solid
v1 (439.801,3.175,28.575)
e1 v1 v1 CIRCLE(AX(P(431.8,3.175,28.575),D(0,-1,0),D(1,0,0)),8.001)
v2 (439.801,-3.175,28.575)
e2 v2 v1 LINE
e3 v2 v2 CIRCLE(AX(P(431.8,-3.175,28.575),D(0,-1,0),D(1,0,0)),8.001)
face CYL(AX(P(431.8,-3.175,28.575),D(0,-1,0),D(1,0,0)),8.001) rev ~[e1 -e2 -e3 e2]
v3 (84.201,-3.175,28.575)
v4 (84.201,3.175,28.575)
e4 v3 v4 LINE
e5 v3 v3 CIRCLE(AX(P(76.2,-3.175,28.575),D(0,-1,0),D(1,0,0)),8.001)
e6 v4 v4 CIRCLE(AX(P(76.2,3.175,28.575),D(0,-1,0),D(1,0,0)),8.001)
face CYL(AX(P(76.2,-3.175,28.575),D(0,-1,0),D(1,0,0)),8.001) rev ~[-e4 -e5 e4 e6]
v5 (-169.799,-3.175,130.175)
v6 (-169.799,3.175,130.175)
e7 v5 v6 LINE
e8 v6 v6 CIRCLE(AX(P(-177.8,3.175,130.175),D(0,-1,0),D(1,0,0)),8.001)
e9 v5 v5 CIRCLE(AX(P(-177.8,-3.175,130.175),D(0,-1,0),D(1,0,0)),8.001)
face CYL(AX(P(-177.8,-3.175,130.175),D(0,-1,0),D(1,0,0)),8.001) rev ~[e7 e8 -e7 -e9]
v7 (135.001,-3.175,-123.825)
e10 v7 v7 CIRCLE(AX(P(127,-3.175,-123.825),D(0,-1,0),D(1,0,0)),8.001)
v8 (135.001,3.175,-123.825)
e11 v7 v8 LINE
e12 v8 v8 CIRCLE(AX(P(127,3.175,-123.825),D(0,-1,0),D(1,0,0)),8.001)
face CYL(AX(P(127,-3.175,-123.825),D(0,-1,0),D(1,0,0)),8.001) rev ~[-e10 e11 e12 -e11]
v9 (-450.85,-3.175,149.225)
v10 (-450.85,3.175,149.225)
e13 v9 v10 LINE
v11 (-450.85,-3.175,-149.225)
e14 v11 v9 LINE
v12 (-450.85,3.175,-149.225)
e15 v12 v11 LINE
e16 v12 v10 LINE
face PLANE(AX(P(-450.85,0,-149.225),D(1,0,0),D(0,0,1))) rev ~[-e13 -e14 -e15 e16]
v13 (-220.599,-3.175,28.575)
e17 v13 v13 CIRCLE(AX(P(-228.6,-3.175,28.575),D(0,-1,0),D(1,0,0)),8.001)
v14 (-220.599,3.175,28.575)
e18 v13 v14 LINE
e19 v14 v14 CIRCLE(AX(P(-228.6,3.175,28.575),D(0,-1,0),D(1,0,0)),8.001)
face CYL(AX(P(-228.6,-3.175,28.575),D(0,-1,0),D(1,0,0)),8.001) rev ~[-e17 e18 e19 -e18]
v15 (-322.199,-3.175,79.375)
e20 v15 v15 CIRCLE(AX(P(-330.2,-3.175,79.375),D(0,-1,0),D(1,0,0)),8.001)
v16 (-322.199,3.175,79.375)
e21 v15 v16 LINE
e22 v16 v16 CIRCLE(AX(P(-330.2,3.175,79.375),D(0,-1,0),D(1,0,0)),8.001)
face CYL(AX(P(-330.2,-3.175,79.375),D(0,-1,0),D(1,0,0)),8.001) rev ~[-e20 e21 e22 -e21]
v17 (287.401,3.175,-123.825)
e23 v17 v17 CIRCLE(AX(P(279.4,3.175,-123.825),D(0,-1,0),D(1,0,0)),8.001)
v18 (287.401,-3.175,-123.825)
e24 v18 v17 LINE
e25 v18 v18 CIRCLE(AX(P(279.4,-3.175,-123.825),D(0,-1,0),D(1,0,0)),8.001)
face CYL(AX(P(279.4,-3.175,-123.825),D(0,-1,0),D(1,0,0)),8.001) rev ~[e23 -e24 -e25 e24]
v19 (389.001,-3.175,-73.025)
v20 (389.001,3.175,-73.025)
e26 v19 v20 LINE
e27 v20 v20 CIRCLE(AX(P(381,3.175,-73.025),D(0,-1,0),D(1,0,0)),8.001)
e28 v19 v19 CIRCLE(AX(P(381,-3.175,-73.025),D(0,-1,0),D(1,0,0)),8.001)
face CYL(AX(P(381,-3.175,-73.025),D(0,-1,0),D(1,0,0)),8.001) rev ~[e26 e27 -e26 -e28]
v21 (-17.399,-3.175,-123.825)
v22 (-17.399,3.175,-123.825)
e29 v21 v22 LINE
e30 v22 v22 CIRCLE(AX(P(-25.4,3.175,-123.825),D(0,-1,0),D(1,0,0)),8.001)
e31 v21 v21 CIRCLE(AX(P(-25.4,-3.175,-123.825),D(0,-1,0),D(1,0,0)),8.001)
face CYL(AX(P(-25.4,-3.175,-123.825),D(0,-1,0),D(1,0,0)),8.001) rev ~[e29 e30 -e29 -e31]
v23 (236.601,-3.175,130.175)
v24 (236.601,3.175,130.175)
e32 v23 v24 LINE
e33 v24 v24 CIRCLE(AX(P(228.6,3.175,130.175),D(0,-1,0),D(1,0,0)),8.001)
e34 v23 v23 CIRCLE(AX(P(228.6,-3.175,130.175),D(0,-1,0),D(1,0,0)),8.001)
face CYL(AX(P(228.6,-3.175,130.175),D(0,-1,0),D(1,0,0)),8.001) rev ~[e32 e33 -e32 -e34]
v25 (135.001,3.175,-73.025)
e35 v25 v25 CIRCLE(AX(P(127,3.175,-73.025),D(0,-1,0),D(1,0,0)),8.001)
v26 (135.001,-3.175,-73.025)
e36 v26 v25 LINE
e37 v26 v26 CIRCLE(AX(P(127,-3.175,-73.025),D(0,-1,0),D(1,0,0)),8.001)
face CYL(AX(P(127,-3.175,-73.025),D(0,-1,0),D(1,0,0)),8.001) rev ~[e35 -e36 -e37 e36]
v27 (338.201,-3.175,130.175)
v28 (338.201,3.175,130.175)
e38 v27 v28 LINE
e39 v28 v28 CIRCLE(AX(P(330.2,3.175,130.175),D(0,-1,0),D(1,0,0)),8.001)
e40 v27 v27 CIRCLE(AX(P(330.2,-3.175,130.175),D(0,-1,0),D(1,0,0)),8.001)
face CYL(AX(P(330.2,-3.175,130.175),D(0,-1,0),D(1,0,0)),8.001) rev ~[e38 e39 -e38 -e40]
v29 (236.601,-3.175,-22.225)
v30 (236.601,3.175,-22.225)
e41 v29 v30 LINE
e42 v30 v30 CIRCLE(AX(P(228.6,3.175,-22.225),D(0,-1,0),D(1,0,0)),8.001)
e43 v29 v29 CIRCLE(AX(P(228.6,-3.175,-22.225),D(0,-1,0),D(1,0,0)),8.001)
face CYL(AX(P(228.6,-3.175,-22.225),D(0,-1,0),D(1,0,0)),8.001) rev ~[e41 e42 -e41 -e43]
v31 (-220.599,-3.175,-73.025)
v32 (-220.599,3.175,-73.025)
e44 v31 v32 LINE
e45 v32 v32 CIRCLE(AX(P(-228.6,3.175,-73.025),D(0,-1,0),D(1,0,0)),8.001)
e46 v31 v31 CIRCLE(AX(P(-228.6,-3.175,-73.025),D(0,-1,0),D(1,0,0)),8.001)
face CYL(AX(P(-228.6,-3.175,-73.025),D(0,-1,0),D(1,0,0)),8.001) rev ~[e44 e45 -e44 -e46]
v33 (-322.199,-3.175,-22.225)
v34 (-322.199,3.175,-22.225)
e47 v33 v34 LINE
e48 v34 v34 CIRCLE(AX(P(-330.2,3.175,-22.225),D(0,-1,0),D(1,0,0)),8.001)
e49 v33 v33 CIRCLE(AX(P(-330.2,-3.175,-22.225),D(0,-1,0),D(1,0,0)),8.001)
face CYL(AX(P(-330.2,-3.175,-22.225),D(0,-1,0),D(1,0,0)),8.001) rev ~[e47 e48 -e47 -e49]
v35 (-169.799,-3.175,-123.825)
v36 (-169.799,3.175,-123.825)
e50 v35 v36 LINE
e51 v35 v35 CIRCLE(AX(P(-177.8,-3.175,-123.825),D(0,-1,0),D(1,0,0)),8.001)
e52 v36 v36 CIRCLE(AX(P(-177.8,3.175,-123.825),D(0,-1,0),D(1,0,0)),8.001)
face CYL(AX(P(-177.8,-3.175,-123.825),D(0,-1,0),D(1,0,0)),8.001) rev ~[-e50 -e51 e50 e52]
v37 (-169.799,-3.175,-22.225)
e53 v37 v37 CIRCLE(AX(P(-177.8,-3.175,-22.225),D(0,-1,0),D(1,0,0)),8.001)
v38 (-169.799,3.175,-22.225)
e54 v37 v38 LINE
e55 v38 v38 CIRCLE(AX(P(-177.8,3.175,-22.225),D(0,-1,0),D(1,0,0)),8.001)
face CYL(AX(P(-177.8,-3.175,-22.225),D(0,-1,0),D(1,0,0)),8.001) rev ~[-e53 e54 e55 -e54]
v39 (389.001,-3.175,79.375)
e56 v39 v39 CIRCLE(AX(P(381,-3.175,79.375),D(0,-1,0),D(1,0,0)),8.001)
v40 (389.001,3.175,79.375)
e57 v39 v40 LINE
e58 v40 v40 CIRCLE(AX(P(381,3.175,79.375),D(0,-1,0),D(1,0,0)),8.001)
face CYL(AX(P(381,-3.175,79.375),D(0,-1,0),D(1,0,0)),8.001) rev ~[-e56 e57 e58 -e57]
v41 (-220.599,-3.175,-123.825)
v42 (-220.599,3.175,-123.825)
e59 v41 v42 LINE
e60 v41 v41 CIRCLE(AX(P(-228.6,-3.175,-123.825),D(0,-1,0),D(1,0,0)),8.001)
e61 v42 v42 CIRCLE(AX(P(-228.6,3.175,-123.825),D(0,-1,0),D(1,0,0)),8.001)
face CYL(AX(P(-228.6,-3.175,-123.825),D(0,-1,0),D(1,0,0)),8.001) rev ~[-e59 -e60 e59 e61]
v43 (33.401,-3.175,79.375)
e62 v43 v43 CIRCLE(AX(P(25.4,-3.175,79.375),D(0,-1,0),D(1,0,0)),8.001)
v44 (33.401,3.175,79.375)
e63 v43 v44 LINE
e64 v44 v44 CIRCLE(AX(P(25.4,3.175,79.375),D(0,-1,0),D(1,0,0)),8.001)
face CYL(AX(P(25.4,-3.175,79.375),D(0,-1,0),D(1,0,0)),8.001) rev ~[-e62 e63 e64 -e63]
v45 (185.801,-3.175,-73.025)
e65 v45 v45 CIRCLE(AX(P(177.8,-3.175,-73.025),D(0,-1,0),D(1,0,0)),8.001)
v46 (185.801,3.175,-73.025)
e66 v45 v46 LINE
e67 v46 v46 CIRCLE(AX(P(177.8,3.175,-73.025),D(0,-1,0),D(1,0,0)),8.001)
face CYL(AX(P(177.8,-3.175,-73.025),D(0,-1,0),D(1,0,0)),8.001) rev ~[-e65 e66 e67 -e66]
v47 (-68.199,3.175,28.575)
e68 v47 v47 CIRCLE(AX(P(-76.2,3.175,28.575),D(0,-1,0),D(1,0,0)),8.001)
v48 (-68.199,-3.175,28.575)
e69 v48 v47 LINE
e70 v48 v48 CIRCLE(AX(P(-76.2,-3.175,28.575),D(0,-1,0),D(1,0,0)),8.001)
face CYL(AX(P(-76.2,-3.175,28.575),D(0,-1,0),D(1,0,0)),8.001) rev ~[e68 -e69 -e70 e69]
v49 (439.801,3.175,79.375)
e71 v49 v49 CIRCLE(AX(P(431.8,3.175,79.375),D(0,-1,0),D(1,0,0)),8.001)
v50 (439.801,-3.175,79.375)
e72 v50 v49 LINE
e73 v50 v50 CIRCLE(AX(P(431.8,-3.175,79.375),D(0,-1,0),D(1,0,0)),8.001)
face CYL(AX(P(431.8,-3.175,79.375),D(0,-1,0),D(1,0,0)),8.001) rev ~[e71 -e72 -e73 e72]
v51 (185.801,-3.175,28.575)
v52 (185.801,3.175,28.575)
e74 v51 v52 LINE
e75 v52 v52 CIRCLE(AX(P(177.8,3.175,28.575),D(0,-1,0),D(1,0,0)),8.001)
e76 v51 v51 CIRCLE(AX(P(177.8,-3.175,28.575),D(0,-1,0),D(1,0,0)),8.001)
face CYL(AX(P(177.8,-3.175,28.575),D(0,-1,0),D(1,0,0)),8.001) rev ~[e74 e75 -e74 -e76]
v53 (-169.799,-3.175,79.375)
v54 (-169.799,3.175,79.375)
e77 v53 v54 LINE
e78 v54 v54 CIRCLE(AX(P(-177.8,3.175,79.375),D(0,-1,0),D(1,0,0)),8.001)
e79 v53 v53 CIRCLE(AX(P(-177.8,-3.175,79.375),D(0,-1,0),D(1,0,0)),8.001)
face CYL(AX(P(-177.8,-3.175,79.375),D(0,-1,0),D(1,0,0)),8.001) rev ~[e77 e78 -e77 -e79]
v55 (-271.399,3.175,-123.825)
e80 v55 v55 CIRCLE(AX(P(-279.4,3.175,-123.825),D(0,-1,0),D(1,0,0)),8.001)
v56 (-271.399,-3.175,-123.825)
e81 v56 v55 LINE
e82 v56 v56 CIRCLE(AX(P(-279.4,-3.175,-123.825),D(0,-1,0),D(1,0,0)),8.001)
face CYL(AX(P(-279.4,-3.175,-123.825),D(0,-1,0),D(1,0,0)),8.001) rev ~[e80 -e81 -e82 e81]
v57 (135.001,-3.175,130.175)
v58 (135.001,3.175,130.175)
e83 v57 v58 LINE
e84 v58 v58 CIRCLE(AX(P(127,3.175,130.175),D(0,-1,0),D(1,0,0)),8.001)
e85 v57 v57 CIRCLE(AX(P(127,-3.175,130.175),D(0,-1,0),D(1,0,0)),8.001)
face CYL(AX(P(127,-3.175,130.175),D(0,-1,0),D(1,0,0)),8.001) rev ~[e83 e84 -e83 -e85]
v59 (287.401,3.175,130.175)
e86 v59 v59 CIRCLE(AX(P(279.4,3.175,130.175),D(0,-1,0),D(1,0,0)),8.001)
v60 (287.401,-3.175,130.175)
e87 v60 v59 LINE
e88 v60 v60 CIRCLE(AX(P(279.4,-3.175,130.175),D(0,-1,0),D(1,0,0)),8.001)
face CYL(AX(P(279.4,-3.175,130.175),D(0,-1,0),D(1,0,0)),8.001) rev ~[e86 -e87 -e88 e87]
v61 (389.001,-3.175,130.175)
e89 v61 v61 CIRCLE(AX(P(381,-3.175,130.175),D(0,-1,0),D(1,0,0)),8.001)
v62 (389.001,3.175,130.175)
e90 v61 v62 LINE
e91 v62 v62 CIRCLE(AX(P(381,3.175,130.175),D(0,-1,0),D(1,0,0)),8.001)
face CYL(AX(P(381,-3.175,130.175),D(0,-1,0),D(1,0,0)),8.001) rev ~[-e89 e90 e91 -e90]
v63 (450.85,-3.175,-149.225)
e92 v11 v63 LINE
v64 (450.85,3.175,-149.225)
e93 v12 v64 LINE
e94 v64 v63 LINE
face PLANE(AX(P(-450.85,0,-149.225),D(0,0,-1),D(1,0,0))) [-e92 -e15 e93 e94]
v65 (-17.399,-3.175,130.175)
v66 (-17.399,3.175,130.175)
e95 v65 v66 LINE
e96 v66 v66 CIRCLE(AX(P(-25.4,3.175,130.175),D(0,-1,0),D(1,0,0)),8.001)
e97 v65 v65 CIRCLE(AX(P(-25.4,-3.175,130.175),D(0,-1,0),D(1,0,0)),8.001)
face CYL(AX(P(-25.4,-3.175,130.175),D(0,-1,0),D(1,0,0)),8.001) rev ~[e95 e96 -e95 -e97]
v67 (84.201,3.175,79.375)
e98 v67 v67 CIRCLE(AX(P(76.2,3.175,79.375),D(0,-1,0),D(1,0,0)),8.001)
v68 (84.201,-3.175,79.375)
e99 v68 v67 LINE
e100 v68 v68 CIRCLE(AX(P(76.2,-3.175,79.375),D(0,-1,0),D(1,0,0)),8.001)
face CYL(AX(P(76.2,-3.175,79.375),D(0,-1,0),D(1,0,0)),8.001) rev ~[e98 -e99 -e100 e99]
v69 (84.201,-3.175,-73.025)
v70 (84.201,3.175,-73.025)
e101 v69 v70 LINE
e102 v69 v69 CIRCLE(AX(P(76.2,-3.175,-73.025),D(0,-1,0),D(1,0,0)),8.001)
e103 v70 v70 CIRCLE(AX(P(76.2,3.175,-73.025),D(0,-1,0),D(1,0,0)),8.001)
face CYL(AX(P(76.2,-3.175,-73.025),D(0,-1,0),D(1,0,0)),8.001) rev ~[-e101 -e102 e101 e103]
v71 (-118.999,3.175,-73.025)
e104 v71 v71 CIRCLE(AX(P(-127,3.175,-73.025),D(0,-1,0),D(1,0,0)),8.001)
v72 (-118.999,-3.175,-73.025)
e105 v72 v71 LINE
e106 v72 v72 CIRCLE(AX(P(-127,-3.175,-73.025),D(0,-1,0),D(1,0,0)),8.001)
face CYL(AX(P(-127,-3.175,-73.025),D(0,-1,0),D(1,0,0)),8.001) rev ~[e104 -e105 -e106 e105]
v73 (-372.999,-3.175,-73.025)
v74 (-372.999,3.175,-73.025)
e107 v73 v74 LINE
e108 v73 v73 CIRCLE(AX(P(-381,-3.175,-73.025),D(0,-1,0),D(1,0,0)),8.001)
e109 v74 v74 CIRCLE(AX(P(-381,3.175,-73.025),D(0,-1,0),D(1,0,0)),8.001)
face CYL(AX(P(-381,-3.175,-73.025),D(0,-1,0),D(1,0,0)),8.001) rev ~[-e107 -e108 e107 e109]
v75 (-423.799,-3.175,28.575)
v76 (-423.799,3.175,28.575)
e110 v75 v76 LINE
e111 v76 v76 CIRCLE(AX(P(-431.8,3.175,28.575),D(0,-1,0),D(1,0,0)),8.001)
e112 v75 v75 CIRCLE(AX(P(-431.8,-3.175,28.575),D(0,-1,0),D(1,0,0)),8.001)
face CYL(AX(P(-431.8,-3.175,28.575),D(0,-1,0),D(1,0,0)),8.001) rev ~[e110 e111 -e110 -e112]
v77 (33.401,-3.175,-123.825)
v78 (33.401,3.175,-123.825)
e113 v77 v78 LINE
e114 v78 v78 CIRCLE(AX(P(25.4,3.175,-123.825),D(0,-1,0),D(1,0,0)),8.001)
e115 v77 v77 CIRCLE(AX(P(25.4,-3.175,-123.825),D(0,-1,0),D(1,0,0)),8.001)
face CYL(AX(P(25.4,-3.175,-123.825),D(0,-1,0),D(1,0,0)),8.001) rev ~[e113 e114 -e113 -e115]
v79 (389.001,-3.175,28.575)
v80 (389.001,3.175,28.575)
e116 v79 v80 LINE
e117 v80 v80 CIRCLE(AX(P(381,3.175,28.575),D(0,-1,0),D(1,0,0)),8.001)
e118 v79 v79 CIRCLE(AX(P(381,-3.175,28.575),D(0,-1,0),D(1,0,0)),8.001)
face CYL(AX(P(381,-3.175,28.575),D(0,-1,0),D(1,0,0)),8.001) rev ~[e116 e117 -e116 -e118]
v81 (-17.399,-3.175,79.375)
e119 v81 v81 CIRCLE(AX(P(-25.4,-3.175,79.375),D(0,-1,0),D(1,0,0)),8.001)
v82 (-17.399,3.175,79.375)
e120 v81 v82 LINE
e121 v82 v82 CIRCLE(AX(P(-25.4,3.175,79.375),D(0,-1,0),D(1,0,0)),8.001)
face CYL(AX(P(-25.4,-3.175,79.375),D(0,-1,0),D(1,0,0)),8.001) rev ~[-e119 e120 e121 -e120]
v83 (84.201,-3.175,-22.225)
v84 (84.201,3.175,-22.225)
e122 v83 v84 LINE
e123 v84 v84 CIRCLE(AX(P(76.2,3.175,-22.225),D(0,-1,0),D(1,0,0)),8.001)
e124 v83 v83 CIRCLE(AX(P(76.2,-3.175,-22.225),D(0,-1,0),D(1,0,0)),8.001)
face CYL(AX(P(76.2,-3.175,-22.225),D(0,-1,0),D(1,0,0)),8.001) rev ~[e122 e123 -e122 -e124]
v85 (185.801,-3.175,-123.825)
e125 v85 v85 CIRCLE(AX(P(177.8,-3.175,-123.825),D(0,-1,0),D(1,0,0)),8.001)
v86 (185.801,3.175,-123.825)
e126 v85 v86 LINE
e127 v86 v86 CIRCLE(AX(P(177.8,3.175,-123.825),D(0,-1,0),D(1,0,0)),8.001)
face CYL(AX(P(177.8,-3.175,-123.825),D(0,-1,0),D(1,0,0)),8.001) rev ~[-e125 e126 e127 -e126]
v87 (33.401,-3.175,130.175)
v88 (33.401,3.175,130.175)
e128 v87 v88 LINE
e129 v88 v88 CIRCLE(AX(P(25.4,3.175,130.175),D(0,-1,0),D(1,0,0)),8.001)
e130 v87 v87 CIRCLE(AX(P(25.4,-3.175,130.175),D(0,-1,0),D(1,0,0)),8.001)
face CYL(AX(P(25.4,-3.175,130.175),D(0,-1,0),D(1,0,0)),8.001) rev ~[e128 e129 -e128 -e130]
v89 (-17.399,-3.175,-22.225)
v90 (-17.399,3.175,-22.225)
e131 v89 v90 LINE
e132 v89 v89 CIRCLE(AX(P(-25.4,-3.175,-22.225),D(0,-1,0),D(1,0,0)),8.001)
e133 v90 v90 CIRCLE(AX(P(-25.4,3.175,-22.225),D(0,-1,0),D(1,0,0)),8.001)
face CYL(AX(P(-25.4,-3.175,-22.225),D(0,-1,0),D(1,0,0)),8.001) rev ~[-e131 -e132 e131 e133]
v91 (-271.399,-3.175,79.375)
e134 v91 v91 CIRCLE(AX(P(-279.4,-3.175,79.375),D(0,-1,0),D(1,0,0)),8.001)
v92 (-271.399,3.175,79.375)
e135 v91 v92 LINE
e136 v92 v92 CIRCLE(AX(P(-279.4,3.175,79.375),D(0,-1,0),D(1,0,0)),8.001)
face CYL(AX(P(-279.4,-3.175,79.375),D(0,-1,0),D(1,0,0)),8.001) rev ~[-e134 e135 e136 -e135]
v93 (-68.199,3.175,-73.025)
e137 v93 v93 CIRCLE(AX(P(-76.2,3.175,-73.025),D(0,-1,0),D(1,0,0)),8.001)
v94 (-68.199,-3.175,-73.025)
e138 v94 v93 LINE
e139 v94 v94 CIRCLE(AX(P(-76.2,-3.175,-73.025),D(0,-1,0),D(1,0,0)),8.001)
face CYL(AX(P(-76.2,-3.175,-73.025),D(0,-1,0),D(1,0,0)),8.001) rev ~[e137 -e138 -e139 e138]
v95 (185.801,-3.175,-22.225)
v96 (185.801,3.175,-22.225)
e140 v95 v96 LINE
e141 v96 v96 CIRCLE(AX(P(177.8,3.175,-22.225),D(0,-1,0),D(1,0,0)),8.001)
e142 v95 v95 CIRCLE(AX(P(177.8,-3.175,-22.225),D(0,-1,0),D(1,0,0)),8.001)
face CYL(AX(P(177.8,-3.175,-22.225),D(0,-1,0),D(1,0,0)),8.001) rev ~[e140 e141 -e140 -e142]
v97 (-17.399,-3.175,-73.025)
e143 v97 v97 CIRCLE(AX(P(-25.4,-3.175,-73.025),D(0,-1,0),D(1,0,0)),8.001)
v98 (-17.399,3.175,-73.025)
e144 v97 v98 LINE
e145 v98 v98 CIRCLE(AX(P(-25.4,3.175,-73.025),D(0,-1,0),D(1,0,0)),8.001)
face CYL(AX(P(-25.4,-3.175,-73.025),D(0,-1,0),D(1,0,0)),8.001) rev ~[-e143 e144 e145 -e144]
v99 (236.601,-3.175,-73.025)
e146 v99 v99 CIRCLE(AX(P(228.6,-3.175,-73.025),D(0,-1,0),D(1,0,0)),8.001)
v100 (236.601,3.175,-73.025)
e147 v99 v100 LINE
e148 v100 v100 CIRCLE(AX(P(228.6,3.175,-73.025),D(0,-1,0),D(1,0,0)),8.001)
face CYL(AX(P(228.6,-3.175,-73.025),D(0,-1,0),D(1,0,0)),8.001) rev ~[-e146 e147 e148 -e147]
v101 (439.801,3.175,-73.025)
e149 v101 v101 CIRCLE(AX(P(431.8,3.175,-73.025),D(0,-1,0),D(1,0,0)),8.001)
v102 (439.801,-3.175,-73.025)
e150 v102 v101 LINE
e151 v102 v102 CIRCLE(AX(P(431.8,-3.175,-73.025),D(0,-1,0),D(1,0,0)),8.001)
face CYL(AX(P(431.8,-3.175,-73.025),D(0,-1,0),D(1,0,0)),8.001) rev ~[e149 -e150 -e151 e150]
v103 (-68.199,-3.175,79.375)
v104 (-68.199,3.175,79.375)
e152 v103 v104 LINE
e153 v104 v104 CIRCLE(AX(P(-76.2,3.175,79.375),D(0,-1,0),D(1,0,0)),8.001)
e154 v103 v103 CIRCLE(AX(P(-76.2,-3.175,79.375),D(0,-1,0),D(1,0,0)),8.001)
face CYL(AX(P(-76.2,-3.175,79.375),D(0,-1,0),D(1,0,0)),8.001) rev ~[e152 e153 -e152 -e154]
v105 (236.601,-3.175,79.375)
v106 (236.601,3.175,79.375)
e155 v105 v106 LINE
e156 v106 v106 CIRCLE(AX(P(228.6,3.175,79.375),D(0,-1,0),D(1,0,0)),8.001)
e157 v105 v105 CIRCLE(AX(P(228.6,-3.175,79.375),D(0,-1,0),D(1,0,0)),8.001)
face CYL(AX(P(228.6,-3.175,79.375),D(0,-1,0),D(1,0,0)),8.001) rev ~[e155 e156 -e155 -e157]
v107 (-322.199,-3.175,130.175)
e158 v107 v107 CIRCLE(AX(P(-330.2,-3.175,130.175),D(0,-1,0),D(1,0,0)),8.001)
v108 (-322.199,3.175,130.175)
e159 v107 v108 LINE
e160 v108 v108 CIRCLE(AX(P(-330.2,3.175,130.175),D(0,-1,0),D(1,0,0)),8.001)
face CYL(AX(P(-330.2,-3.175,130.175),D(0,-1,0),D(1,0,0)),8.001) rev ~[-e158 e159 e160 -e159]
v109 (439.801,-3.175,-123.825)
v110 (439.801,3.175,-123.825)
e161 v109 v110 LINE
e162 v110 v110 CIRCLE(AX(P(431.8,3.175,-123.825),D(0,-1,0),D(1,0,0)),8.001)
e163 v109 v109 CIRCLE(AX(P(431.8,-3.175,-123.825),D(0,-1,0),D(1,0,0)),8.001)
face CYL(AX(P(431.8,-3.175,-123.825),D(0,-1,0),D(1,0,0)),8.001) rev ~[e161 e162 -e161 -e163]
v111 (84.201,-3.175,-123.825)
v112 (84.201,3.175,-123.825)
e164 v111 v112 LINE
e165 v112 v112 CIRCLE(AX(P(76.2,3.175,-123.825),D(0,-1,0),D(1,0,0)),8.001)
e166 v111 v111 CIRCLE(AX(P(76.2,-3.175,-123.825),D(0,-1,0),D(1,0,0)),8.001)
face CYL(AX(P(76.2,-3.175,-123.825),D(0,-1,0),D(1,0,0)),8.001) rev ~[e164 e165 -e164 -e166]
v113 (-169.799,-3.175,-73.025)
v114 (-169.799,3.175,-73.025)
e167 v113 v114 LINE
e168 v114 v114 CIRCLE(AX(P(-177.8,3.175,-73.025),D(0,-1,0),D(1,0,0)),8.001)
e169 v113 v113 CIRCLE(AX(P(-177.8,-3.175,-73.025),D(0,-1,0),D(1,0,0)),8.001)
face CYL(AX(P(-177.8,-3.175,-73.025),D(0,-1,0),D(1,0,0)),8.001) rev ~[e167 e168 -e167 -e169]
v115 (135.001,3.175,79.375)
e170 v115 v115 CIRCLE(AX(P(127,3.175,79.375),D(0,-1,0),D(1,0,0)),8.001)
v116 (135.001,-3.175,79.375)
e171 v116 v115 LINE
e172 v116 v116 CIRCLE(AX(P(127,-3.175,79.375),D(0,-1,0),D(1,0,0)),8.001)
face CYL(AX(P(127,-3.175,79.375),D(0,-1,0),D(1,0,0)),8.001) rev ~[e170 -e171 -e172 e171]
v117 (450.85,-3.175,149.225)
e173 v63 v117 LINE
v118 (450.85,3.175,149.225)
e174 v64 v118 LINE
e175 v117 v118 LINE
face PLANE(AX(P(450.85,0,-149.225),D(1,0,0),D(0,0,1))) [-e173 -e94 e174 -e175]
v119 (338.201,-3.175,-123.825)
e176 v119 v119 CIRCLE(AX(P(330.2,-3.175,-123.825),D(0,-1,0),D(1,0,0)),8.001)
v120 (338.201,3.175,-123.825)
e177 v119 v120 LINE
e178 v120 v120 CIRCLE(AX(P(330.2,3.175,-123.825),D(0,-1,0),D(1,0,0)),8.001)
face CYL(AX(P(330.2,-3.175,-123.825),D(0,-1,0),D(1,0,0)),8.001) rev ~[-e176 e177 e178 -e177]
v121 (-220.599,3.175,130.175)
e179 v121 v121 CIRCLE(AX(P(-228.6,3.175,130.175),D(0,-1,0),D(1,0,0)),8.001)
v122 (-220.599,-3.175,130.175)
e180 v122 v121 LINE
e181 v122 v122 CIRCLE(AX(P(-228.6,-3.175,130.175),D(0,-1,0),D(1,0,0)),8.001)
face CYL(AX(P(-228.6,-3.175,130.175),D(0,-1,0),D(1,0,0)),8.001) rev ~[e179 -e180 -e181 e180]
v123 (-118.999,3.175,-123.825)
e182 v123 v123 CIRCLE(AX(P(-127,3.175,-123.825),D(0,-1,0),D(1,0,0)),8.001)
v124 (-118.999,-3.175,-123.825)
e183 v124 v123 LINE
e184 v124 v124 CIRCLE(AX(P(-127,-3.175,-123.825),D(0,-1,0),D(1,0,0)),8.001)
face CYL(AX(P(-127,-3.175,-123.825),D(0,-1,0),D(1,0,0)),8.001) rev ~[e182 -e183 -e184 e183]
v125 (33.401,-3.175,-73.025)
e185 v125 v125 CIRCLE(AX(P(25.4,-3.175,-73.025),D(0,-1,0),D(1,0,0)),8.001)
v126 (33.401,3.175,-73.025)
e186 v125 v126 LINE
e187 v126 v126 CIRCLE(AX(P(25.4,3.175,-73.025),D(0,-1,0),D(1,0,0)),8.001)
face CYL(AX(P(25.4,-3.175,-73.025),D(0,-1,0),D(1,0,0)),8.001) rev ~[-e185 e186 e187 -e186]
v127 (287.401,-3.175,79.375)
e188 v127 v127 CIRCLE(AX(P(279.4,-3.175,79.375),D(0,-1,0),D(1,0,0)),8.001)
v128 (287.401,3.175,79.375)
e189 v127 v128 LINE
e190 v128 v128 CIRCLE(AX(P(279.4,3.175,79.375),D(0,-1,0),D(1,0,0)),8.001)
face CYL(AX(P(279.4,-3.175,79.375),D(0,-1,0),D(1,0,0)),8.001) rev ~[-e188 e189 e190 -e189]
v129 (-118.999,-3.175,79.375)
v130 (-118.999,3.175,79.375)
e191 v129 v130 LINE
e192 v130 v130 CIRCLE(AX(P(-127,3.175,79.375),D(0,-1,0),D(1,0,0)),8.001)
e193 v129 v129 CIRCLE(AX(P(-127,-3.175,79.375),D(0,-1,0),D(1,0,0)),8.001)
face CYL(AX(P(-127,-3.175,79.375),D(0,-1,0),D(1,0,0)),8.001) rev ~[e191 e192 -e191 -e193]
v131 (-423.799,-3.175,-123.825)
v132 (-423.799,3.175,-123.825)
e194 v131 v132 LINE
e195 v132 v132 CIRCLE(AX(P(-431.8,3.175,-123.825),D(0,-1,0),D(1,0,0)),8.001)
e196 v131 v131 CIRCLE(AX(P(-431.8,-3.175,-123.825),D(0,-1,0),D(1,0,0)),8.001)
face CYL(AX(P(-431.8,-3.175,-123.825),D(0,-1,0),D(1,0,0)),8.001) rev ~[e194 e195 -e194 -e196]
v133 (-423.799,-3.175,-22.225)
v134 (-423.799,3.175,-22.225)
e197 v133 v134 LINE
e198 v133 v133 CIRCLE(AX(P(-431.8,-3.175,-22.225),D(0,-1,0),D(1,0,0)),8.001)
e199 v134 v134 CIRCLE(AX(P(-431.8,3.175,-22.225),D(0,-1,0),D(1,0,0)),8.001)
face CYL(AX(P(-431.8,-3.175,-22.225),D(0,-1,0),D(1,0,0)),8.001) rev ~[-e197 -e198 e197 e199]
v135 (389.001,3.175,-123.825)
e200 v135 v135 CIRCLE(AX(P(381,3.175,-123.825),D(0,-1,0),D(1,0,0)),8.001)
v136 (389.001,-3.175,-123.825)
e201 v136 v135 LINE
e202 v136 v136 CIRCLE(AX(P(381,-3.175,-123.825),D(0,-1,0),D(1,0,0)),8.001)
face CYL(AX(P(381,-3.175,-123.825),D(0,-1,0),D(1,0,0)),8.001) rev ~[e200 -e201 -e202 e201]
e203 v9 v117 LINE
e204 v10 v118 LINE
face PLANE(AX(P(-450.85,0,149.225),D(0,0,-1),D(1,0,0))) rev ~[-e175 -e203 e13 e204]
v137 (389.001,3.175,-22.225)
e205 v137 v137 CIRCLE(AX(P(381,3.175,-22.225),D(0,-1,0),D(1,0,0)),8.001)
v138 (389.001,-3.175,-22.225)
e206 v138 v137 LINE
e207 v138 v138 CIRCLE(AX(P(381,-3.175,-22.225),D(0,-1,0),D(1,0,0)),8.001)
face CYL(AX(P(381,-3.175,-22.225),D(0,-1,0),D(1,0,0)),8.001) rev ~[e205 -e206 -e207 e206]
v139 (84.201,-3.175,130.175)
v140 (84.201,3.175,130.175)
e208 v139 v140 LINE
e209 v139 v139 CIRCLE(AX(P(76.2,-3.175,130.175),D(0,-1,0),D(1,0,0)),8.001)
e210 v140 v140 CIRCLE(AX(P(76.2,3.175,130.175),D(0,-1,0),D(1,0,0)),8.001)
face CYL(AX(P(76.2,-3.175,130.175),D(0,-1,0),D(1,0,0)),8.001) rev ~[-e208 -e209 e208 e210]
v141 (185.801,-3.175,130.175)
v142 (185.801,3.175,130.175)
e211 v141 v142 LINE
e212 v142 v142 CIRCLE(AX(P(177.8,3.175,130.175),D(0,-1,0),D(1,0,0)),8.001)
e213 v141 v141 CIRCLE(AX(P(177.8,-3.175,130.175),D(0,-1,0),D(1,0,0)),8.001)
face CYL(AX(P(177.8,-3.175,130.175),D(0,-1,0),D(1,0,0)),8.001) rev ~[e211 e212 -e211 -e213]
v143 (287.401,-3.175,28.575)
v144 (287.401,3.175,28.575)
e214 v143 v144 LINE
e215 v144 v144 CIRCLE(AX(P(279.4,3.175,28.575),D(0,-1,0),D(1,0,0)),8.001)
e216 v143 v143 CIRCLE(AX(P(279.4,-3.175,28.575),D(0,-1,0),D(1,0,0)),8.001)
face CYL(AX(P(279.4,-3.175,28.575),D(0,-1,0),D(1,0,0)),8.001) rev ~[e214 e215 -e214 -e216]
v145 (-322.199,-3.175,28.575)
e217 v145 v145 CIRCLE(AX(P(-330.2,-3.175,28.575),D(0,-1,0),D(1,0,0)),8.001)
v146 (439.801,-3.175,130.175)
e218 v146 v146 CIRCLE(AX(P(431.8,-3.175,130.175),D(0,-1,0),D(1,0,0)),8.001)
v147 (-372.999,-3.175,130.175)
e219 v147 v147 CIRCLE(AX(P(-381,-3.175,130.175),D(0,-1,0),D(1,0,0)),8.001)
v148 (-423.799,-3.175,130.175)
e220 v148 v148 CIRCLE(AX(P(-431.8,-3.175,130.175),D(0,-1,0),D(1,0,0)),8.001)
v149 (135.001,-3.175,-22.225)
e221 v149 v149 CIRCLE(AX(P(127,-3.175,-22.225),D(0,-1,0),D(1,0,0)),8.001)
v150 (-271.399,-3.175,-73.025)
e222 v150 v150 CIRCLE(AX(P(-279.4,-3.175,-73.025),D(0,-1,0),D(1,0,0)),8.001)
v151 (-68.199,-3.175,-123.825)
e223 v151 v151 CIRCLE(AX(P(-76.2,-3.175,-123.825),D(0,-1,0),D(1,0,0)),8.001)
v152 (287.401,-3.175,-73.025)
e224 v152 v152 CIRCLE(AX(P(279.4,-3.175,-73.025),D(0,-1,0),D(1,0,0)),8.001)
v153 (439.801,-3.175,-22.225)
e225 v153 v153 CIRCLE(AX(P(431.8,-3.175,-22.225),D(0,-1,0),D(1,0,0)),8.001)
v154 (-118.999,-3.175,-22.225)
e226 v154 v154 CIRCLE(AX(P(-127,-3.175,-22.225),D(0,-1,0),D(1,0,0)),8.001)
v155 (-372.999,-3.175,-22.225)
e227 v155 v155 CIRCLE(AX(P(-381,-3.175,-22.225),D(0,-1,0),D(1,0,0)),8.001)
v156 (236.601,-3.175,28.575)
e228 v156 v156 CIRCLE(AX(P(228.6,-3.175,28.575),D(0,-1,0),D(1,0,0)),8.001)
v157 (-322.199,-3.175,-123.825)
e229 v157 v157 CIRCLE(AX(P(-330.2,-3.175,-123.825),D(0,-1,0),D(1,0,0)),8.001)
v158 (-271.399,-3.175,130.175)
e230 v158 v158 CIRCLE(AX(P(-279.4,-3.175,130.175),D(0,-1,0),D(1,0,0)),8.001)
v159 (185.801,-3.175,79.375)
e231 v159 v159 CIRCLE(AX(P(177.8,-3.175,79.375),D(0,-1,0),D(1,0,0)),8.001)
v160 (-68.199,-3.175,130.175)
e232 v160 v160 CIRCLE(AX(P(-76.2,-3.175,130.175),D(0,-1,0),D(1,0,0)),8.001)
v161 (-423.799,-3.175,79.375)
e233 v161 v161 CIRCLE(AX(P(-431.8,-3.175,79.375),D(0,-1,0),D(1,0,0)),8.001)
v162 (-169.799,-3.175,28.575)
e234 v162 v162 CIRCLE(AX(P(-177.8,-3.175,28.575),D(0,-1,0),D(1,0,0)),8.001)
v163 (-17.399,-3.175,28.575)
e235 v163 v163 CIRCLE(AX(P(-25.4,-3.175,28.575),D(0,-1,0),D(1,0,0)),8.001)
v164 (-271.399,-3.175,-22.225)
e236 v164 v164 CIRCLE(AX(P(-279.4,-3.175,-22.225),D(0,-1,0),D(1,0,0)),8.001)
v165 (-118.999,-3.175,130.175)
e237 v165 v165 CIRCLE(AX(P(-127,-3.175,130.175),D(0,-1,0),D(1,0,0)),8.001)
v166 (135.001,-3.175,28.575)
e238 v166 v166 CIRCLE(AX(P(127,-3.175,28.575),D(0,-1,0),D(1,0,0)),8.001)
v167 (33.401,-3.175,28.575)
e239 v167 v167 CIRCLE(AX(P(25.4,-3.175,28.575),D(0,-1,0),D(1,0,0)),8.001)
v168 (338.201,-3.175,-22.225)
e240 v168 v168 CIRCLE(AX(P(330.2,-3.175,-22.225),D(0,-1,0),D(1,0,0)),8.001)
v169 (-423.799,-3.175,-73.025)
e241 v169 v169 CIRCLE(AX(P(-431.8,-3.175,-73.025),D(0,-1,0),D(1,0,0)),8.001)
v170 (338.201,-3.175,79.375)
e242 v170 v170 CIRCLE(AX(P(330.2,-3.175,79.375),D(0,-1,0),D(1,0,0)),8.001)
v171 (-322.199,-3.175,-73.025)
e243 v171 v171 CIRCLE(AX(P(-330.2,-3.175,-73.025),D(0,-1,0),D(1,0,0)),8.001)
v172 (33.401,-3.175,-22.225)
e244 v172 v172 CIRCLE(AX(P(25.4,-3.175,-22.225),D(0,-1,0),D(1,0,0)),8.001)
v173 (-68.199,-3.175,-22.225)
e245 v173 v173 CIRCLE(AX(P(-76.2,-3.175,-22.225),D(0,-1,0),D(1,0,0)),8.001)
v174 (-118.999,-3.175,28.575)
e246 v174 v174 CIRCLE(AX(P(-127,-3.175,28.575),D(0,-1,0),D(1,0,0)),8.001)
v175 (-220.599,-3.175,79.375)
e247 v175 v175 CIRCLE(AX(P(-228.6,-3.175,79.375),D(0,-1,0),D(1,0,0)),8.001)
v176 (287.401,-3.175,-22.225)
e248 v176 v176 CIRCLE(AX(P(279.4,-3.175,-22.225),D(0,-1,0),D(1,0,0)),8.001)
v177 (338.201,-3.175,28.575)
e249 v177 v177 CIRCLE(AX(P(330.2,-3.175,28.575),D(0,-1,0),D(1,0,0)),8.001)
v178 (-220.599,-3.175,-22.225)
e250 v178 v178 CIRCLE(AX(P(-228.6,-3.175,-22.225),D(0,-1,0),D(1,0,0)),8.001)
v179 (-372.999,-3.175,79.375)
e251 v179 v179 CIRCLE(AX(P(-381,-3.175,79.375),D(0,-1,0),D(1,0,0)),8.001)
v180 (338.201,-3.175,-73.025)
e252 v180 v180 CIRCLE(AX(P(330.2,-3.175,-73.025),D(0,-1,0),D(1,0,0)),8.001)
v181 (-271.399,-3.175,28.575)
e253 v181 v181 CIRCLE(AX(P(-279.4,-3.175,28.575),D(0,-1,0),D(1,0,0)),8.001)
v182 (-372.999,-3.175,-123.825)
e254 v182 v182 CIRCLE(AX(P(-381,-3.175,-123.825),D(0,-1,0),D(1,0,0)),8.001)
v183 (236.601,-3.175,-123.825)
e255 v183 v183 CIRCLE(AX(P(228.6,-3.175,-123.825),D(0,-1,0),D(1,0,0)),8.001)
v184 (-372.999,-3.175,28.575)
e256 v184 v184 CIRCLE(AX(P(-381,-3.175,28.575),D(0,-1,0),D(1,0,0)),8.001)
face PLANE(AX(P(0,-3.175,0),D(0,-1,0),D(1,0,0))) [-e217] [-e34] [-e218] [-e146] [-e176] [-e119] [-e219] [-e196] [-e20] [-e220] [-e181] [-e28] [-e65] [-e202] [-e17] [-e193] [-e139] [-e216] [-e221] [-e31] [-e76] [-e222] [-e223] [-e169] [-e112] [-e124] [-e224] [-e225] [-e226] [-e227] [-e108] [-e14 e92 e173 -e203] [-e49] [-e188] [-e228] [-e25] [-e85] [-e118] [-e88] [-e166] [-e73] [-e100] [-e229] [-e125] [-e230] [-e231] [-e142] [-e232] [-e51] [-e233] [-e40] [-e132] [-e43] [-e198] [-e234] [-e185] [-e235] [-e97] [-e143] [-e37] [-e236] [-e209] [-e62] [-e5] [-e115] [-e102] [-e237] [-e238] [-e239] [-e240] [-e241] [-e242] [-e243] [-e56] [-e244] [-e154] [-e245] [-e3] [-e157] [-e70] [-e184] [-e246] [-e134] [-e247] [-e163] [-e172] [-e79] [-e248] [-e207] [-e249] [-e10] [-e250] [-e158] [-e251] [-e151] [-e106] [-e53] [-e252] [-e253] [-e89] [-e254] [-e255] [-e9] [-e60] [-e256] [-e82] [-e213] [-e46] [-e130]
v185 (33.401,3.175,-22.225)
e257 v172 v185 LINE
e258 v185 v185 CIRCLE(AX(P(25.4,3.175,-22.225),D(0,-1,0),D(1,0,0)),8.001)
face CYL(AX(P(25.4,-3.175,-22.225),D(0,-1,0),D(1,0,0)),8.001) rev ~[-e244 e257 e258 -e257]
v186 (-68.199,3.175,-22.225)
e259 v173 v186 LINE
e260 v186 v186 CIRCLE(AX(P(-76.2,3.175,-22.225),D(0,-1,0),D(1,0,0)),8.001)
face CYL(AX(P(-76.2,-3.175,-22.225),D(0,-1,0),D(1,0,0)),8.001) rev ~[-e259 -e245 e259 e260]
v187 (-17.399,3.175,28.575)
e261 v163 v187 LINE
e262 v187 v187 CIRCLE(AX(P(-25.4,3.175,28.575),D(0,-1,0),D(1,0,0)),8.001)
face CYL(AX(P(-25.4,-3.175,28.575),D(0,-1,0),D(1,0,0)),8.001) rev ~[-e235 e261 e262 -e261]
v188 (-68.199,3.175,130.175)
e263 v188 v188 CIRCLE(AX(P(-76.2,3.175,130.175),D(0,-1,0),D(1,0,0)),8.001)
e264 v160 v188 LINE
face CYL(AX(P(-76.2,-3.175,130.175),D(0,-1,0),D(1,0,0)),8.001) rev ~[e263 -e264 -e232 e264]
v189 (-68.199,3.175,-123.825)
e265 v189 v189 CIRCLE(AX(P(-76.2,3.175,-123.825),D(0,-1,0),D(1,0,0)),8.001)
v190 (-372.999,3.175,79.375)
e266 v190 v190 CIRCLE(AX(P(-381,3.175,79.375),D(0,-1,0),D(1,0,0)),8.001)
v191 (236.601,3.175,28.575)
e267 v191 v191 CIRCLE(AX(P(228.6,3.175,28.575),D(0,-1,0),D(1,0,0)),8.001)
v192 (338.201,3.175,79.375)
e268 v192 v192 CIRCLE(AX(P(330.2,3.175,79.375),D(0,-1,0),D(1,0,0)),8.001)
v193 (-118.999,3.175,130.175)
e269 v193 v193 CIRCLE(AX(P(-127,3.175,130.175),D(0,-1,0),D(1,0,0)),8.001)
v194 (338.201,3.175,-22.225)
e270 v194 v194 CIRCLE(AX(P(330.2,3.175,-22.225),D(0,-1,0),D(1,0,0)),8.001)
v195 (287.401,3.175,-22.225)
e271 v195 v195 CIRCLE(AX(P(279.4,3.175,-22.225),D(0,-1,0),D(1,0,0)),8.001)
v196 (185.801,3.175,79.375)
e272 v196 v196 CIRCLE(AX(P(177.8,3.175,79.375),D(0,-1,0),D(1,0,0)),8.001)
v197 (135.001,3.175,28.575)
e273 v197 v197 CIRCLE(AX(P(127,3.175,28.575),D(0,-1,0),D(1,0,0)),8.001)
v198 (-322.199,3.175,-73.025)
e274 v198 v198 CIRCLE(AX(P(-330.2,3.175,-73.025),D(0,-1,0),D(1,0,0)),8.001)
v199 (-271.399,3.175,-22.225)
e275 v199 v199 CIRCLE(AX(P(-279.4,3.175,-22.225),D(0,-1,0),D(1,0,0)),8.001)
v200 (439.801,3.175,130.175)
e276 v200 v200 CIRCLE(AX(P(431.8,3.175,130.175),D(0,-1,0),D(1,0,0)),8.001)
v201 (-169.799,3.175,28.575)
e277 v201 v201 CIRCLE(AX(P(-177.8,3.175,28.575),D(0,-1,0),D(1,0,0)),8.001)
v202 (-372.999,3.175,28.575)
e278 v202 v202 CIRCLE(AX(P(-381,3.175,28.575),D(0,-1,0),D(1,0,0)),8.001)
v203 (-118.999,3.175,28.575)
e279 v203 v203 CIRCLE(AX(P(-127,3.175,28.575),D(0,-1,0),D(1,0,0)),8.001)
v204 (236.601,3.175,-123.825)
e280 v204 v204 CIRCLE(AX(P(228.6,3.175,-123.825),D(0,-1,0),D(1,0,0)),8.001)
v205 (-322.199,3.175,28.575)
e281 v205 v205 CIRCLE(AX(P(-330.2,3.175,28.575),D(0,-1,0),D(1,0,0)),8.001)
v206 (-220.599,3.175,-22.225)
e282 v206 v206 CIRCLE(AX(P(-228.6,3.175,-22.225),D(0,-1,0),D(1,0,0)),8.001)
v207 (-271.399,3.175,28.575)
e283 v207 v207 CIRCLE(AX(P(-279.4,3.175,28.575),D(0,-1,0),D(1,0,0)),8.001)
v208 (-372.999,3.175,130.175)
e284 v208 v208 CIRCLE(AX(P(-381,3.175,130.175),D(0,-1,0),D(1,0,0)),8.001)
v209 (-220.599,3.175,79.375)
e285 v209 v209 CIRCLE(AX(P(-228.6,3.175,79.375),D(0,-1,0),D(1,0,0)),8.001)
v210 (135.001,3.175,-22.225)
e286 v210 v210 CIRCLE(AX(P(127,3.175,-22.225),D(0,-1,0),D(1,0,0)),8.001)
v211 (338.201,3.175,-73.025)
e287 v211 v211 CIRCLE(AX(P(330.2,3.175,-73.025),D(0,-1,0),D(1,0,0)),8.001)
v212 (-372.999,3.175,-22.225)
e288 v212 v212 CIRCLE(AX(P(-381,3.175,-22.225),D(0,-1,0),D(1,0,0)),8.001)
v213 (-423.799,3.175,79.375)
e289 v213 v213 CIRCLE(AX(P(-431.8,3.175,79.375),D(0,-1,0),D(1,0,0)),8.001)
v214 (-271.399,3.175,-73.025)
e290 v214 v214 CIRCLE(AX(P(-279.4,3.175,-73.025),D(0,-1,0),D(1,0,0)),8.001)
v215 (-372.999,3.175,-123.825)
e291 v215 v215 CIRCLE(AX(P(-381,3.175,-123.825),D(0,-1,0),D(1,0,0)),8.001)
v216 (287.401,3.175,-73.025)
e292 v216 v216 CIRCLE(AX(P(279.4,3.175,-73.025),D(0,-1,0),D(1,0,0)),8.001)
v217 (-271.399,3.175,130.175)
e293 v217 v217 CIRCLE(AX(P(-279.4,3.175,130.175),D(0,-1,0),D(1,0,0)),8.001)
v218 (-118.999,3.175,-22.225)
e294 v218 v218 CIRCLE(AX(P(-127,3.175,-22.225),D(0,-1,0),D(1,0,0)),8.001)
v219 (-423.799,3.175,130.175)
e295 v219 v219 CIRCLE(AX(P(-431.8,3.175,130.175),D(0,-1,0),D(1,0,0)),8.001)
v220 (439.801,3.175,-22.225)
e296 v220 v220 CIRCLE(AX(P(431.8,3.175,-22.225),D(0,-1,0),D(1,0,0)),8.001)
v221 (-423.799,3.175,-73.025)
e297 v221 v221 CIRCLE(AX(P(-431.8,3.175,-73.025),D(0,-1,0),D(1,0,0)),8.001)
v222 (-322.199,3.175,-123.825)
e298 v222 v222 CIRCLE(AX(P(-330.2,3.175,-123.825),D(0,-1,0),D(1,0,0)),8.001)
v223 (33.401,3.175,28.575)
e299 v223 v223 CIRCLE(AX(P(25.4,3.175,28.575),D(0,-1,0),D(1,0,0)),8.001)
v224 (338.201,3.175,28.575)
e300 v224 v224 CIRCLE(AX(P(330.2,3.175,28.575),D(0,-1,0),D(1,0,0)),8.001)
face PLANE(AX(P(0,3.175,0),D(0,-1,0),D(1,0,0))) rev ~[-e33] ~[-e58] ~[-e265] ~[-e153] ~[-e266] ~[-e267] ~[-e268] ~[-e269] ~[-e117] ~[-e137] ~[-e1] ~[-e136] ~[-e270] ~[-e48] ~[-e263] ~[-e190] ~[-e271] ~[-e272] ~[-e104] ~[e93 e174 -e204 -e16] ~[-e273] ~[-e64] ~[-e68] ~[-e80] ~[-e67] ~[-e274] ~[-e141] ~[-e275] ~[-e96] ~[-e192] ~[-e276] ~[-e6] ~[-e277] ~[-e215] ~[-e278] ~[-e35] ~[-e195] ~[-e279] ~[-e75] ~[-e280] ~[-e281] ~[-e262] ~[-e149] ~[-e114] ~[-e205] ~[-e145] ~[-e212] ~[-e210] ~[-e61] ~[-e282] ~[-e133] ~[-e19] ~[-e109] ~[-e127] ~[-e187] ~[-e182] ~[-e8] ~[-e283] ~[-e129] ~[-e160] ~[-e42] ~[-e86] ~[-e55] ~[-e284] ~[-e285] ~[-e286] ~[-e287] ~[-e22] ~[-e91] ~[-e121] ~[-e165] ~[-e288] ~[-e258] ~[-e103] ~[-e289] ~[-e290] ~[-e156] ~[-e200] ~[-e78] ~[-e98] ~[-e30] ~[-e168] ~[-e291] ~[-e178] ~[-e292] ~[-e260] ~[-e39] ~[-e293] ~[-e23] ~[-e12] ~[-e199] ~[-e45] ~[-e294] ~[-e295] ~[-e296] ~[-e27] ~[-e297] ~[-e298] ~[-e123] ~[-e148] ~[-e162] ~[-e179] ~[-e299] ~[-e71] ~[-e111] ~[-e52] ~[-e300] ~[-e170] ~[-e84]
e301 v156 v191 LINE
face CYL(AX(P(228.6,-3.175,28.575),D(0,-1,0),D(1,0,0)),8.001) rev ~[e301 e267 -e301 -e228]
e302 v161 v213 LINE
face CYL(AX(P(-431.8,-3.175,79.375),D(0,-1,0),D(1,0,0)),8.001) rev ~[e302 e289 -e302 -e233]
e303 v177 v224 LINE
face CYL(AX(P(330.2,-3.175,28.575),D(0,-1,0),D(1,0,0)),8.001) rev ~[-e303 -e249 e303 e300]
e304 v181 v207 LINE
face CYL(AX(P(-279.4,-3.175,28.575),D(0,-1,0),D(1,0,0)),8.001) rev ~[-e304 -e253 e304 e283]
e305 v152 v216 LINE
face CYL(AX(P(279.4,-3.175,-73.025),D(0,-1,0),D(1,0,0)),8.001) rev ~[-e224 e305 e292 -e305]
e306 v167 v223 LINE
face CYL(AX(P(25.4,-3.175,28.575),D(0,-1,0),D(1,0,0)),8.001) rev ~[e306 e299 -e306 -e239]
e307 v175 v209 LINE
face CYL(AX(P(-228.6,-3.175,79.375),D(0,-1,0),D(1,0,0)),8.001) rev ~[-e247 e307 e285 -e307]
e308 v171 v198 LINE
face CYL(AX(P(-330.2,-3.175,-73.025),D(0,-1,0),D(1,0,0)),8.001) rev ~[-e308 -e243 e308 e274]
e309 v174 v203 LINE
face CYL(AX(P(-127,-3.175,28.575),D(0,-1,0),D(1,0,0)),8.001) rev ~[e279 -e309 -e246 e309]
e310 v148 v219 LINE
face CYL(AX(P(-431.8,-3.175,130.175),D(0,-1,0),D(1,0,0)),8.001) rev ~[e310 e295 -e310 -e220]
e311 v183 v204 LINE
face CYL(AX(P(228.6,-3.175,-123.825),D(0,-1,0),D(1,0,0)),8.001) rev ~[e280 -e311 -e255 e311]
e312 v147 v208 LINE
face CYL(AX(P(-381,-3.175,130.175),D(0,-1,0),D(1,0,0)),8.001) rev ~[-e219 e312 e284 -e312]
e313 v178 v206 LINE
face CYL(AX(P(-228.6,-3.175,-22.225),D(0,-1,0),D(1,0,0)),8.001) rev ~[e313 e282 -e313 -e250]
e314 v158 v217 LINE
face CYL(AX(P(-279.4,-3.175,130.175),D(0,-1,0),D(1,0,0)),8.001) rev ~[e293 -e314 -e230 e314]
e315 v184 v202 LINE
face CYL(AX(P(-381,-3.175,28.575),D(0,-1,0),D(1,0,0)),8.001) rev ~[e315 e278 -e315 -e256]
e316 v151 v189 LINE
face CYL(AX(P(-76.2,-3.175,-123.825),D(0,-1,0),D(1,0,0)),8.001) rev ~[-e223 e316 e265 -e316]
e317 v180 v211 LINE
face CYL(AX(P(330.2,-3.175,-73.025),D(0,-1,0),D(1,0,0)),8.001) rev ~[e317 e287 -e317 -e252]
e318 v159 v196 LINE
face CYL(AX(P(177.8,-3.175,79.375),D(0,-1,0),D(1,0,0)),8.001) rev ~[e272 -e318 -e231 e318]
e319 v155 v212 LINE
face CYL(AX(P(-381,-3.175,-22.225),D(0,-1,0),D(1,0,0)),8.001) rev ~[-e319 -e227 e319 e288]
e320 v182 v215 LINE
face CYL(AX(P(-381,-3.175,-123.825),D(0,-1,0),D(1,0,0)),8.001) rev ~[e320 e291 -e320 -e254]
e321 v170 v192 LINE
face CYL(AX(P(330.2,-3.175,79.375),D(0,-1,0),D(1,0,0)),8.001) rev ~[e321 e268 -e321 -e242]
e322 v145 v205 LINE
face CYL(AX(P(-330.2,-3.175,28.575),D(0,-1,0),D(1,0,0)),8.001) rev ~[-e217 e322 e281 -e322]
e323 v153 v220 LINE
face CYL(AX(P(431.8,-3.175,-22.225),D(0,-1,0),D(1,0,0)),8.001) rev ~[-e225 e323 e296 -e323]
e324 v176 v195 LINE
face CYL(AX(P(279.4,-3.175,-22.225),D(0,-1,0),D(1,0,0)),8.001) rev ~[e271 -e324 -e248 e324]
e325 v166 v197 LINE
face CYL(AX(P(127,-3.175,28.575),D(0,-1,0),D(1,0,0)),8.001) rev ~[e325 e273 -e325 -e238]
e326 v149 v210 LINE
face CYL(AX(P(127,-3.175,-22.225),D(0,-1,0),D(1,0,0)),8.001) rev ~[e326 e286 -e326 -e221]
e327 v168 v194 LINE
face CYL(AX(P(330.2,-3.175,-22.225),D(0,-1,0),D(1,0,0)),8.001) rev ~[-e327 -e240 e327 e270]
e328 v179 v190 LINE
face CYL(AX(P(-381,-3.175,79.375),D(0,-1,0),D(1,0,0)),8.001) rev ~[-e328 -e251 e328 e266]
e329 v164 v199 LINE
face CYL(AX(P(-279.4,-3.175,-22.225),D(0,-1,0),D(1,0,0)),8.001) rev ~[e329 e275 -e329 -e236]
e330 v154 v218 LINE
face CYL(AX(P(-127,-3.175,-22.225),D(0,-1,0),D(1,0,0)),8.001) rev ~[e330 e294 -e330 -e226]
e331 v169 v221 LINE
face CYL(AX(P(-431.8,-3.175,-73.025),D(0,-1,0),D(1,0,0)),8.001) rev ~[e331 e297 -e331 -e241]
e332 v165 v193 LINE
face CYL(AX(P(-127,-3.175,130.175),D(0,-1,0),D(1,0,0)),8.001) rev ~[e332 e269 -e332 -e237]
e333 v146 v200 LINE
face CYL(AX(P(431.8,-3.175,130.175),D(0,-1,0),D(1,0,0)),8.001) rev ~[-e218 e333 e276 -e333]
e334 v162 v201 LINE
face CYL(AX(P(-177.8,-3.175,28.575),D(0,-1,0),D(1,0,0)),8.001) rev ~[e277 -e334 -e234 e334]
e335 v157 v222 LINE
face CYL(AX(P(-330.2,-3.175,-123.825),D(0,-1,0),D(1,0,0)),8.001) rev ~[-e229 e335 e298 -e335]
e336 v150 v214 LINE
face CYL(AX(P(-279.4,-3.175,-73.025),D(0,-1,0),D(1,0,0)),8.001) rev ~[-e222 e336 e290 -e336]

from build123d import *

# Parameters (mm, degrees)
F0_W     = 901.7
F0_H     = 298.45
F1_DEPTH = 3.175
F2_R     = 8.001
F3_DEPTH = 6.351


with BuildPart() as f1:
    # F0 (on Front) → F1 (new body, symmetric)
    with BuildSketch(Plane.XZ):
        Rectangle(F0_W, F0_H)
    extrude(amount=F1_DEPTH, both=True)

    # F2 (on face) → F3 (cut, through all)
    with BuildSketch(Plane.XZ.offset(3.175)):
        with Locations((-431.8, -123.825)):
            Circle(F2_R)
        with Locations((-431.8, -73.025)):
            Circle(F2_R)
        with Locations((-431.8, -22.225)):
            Circle(F2_R)
        with Locations((-431.8, 28.575)):
            Circle(F2_R)
        with Locations((-431.8, 79.375)):
            Circle(F2_R)
        with Locations((-431.8, 130.175)):
            Circle(F2_R)
        with Locations((-381, -123.825)):
            Circle(F2_R)
        with Locations((-381, -73.025)):
            Circle(F2_R)
        with Locations((-381, -22.225)):
            Circle(F2_R)
        with Locations((-381, 28.575)):
            Circle(F2_R)
        with Locations((-381, 79.375)):
            Circle(F2_R)
        with Locations((-381, 130.175)):
            Circle(F2_R)
        with Locations((-330.2, -123.825)):
            Circle(F2_R)
        with Locations((-330.2, -73.025)):
            Circle(F2_R)
        with Locations((-330.2, -22.225)):
            Circle(F2_R)
        with Locations((-330.2, 28.575)):
            Circle(F2_R)
        with Locations((-330.2, 79.375)):
            Circle(F2_R)
        with Locations((-330.2, 130.175)):
            Circle(F2_R)
        with Locations((-279.4, -123.825)):
            Circle(F2_R)
        with Locations((-279.4, -73.025)):
            Circle(F2_R)
        with Locations((-279.4, -22.225)):
            Circle(F2_R)
        with Locations((-279.4, 28.575)):
            Circle(F2_R)
        with Locations((-279.4, 79.375)):
            Circle(F2_R)
        with Locations((-279.4, 130.175)):
            Circle(F2_R)
        with Locations((-228.6, -123.825)):
            Circle(F2_R)
        with Locations((-228.6, -73.025)):
            Circle(F2_R)
        with Locations((-228.6, -22.225)):
            Circle(F2_R)
        with Locations((-228.6, 28.575)):
            Circle(F2_R)
        with Locations((-228.6, 79.375)):
            Circle(F2_R)
        with Locations((-228.6, 130.175)):
            Circle(F2_R)
        with Locations((-177.8, -123.825)):
            Circle(F2_R)
        with Locations((-177.8, -73.025)):
            Circle(F2_R)
        with Locations((-177.8, -22.225)):
            Circle(F2_R)
        with Locations((-177.8, 28.575)):
            Circle(F2_R)
        with Locations((-177.8, 79.375)):
            Circle(F2_R)
        with Locations((-177.8, 130.175)):
            Circle(F2_R)
        with Locations((-127, -123.825)):
            Circle(F2_R)
        with Locations((-127, -73.025)):
            Circle(F2_R)
        with Locations((-127, -22.225)):
            Circle(F2_R)
        with Locations((-127, 28.575)):
            Circle(F2_R)
        with Locations((-127, 79.375)):
            Circle(F2_R)
        with Locations((-127, 130.175)):
            Circle(F2_R)
        with Locations((-76.2, -123.825)):
            Circle(F2_R)
        with Locations((-76.2, -73.025)):
            Circle(F2_R)
        with Locations((-76.2, -22.225)):
            Circle(F2_R)
        with Locations((-76.2, 28.575)):
            Circle(F2_R)
        with Locations((-76.2, 79.375)):
            Circle(F2_R)
        with Locations((-76.2, 130.175)):
            Circle(F2_R)
        with Locations((-25.4, -123.825)):
            Circle(F2_R)
        with Locations((-25.4, -73.025)):
            Circle(F2_R)
        with Locations((-25.4, -22.225)):
            Circle(F2_R)
        with Locations((-25.4, 28.575)):
            Circle(F2_R)
        with Locations((-25.4, 79.375)):
            Circle(F2_R)
        with Locations((-25.4, 130.175)):
            Circle(F2_R)
        with Locations((25.4, -123.825)):
            Circle(F2_R)
        with Locations((25.4, -73.025)):
            Circle(F2_R)
        with Locations((25.4, -22.225)):
            Circle(F2_R)
        with Locations((25.4, 28.575)):
            Circle(F2_R)
        with Locations((25.4, 79.375)):
            Circle(F2_R)
        with Locations((25.4, 130.175)):
            Circle(F2_R)
        with Locations((76.2, -123.825)):
            Circle(F2_R)
        with Locations((76.2, -73.025)):
            Circle(F2_R)
        with Locations((76.2, -22.225)):
            Circle(F2_R)
        with Locations((76.2, 28.575)):
            Circle(F2_R)
        with Locations((76.2, 79.375)):
            Circle(F2_R)
        with Locations((76.2, 130.175)):
            Circle(F2_R)
        with Locations((127, -123.825)):
            Circle(F2_R)
        with Locations((127, -73.025)):
            Circle(F2_R)
        with Locations((127, -22.225)):
            Circle(F2_R)
        with Locations((127, 28.575)):
            Circle(F2_R)
        with Locations((127, 79.375)):
            Circle(F2_R)
        with Locations((127, 130.175)):
            Circle(F2_R)
        with Locations((177.8, -123.825)):
            Circle(F2_R)
        with Locations((177.8, -73.025)):
            Circle(F2_R)
        with Locations((177.8, -22.225)):
            Circle(F2_R)
        with Locations((177.8, 28.575)):
            Circle(F2_R)
        with Locations((177.8, 79.375)):
            Circle(F2_R)
        with Locations((177.8, 130.175)):
            Circle(F2_R)
        with Locations((228.6, -123.825)):
            Circle(F2_R)
        with Locations((228.6, -73.025)):
            Circle(F2_R)
        with Locations((228.6, -22.225)):
            Circle(F2_R)
        with Locations((228.6, 28.575)):
            Circle(F2_R)
        with Locations((228.6, 79.375)):
            Circle(F2_R)
        with Locations((228.6, 130.175)):
            Circle(F2_R)
        with Locations((279.4, -123.825)):
            Circle(F2_R)
        with Locations((279.4, -73.025)):
            Circle(F2_R)
        with Locations((279.4, -22.225)):
            Circle(F2_R)
        with Locations((279.4, 28.575)):
            Circle(F2_R)
        with Locations((279.4, 79.375)):
            Circle(F2_R)
        with Locations((279.4, 130.175)):
            Circle(F2_R)
        with Locations((330.2, -123.825)):
            Circle(F2_R)
        with Locations((330.2, -73.025)):
            Circle(F2_R)
        with Locations((330.2, -22.225)):
            Circle(F2_R)
        with Locations((330.2, 28.575)):
            Circle(F2_R)
        with Locations((330.2, 79.375)):
            Circle(F2_R)
        with Locations((330.2, 130.175)):
            Circle(F2_R)
        with Locations((381, -123.825)):
            Circle(F2_R)
        with Locations((381, -73.025)):
            Circle(F2_R)
        with Locations((381, -22.225)):
            Circle(F2_R)
        with Locations((381, 28.575)):
            Circle(F2_R)
        with Locations((381, 79.375)):
            Circle(F2_R)
        with Locations((381, 130.175)):
            Circle(F2_R)
        with Locations((431.8, -123.825)):
            Circle(F2_R)
        with Locations((431.8, -73.025)):
            Circle(F2_R)
        with Locations((431.8, -22.225)):
            Circle(F2_R)
        with Locations((431.8, 28.575)):
            Circle(F2_R)
        with Locations((431.8, 79.375)):
            Circle(F2_R)
        with Locations((431.8, 130.175)):
            Circle(F2_R)
    extrude(amount=-F3_DEPTH, mode=Mode.SUBTRACT)


solid = f1.part
